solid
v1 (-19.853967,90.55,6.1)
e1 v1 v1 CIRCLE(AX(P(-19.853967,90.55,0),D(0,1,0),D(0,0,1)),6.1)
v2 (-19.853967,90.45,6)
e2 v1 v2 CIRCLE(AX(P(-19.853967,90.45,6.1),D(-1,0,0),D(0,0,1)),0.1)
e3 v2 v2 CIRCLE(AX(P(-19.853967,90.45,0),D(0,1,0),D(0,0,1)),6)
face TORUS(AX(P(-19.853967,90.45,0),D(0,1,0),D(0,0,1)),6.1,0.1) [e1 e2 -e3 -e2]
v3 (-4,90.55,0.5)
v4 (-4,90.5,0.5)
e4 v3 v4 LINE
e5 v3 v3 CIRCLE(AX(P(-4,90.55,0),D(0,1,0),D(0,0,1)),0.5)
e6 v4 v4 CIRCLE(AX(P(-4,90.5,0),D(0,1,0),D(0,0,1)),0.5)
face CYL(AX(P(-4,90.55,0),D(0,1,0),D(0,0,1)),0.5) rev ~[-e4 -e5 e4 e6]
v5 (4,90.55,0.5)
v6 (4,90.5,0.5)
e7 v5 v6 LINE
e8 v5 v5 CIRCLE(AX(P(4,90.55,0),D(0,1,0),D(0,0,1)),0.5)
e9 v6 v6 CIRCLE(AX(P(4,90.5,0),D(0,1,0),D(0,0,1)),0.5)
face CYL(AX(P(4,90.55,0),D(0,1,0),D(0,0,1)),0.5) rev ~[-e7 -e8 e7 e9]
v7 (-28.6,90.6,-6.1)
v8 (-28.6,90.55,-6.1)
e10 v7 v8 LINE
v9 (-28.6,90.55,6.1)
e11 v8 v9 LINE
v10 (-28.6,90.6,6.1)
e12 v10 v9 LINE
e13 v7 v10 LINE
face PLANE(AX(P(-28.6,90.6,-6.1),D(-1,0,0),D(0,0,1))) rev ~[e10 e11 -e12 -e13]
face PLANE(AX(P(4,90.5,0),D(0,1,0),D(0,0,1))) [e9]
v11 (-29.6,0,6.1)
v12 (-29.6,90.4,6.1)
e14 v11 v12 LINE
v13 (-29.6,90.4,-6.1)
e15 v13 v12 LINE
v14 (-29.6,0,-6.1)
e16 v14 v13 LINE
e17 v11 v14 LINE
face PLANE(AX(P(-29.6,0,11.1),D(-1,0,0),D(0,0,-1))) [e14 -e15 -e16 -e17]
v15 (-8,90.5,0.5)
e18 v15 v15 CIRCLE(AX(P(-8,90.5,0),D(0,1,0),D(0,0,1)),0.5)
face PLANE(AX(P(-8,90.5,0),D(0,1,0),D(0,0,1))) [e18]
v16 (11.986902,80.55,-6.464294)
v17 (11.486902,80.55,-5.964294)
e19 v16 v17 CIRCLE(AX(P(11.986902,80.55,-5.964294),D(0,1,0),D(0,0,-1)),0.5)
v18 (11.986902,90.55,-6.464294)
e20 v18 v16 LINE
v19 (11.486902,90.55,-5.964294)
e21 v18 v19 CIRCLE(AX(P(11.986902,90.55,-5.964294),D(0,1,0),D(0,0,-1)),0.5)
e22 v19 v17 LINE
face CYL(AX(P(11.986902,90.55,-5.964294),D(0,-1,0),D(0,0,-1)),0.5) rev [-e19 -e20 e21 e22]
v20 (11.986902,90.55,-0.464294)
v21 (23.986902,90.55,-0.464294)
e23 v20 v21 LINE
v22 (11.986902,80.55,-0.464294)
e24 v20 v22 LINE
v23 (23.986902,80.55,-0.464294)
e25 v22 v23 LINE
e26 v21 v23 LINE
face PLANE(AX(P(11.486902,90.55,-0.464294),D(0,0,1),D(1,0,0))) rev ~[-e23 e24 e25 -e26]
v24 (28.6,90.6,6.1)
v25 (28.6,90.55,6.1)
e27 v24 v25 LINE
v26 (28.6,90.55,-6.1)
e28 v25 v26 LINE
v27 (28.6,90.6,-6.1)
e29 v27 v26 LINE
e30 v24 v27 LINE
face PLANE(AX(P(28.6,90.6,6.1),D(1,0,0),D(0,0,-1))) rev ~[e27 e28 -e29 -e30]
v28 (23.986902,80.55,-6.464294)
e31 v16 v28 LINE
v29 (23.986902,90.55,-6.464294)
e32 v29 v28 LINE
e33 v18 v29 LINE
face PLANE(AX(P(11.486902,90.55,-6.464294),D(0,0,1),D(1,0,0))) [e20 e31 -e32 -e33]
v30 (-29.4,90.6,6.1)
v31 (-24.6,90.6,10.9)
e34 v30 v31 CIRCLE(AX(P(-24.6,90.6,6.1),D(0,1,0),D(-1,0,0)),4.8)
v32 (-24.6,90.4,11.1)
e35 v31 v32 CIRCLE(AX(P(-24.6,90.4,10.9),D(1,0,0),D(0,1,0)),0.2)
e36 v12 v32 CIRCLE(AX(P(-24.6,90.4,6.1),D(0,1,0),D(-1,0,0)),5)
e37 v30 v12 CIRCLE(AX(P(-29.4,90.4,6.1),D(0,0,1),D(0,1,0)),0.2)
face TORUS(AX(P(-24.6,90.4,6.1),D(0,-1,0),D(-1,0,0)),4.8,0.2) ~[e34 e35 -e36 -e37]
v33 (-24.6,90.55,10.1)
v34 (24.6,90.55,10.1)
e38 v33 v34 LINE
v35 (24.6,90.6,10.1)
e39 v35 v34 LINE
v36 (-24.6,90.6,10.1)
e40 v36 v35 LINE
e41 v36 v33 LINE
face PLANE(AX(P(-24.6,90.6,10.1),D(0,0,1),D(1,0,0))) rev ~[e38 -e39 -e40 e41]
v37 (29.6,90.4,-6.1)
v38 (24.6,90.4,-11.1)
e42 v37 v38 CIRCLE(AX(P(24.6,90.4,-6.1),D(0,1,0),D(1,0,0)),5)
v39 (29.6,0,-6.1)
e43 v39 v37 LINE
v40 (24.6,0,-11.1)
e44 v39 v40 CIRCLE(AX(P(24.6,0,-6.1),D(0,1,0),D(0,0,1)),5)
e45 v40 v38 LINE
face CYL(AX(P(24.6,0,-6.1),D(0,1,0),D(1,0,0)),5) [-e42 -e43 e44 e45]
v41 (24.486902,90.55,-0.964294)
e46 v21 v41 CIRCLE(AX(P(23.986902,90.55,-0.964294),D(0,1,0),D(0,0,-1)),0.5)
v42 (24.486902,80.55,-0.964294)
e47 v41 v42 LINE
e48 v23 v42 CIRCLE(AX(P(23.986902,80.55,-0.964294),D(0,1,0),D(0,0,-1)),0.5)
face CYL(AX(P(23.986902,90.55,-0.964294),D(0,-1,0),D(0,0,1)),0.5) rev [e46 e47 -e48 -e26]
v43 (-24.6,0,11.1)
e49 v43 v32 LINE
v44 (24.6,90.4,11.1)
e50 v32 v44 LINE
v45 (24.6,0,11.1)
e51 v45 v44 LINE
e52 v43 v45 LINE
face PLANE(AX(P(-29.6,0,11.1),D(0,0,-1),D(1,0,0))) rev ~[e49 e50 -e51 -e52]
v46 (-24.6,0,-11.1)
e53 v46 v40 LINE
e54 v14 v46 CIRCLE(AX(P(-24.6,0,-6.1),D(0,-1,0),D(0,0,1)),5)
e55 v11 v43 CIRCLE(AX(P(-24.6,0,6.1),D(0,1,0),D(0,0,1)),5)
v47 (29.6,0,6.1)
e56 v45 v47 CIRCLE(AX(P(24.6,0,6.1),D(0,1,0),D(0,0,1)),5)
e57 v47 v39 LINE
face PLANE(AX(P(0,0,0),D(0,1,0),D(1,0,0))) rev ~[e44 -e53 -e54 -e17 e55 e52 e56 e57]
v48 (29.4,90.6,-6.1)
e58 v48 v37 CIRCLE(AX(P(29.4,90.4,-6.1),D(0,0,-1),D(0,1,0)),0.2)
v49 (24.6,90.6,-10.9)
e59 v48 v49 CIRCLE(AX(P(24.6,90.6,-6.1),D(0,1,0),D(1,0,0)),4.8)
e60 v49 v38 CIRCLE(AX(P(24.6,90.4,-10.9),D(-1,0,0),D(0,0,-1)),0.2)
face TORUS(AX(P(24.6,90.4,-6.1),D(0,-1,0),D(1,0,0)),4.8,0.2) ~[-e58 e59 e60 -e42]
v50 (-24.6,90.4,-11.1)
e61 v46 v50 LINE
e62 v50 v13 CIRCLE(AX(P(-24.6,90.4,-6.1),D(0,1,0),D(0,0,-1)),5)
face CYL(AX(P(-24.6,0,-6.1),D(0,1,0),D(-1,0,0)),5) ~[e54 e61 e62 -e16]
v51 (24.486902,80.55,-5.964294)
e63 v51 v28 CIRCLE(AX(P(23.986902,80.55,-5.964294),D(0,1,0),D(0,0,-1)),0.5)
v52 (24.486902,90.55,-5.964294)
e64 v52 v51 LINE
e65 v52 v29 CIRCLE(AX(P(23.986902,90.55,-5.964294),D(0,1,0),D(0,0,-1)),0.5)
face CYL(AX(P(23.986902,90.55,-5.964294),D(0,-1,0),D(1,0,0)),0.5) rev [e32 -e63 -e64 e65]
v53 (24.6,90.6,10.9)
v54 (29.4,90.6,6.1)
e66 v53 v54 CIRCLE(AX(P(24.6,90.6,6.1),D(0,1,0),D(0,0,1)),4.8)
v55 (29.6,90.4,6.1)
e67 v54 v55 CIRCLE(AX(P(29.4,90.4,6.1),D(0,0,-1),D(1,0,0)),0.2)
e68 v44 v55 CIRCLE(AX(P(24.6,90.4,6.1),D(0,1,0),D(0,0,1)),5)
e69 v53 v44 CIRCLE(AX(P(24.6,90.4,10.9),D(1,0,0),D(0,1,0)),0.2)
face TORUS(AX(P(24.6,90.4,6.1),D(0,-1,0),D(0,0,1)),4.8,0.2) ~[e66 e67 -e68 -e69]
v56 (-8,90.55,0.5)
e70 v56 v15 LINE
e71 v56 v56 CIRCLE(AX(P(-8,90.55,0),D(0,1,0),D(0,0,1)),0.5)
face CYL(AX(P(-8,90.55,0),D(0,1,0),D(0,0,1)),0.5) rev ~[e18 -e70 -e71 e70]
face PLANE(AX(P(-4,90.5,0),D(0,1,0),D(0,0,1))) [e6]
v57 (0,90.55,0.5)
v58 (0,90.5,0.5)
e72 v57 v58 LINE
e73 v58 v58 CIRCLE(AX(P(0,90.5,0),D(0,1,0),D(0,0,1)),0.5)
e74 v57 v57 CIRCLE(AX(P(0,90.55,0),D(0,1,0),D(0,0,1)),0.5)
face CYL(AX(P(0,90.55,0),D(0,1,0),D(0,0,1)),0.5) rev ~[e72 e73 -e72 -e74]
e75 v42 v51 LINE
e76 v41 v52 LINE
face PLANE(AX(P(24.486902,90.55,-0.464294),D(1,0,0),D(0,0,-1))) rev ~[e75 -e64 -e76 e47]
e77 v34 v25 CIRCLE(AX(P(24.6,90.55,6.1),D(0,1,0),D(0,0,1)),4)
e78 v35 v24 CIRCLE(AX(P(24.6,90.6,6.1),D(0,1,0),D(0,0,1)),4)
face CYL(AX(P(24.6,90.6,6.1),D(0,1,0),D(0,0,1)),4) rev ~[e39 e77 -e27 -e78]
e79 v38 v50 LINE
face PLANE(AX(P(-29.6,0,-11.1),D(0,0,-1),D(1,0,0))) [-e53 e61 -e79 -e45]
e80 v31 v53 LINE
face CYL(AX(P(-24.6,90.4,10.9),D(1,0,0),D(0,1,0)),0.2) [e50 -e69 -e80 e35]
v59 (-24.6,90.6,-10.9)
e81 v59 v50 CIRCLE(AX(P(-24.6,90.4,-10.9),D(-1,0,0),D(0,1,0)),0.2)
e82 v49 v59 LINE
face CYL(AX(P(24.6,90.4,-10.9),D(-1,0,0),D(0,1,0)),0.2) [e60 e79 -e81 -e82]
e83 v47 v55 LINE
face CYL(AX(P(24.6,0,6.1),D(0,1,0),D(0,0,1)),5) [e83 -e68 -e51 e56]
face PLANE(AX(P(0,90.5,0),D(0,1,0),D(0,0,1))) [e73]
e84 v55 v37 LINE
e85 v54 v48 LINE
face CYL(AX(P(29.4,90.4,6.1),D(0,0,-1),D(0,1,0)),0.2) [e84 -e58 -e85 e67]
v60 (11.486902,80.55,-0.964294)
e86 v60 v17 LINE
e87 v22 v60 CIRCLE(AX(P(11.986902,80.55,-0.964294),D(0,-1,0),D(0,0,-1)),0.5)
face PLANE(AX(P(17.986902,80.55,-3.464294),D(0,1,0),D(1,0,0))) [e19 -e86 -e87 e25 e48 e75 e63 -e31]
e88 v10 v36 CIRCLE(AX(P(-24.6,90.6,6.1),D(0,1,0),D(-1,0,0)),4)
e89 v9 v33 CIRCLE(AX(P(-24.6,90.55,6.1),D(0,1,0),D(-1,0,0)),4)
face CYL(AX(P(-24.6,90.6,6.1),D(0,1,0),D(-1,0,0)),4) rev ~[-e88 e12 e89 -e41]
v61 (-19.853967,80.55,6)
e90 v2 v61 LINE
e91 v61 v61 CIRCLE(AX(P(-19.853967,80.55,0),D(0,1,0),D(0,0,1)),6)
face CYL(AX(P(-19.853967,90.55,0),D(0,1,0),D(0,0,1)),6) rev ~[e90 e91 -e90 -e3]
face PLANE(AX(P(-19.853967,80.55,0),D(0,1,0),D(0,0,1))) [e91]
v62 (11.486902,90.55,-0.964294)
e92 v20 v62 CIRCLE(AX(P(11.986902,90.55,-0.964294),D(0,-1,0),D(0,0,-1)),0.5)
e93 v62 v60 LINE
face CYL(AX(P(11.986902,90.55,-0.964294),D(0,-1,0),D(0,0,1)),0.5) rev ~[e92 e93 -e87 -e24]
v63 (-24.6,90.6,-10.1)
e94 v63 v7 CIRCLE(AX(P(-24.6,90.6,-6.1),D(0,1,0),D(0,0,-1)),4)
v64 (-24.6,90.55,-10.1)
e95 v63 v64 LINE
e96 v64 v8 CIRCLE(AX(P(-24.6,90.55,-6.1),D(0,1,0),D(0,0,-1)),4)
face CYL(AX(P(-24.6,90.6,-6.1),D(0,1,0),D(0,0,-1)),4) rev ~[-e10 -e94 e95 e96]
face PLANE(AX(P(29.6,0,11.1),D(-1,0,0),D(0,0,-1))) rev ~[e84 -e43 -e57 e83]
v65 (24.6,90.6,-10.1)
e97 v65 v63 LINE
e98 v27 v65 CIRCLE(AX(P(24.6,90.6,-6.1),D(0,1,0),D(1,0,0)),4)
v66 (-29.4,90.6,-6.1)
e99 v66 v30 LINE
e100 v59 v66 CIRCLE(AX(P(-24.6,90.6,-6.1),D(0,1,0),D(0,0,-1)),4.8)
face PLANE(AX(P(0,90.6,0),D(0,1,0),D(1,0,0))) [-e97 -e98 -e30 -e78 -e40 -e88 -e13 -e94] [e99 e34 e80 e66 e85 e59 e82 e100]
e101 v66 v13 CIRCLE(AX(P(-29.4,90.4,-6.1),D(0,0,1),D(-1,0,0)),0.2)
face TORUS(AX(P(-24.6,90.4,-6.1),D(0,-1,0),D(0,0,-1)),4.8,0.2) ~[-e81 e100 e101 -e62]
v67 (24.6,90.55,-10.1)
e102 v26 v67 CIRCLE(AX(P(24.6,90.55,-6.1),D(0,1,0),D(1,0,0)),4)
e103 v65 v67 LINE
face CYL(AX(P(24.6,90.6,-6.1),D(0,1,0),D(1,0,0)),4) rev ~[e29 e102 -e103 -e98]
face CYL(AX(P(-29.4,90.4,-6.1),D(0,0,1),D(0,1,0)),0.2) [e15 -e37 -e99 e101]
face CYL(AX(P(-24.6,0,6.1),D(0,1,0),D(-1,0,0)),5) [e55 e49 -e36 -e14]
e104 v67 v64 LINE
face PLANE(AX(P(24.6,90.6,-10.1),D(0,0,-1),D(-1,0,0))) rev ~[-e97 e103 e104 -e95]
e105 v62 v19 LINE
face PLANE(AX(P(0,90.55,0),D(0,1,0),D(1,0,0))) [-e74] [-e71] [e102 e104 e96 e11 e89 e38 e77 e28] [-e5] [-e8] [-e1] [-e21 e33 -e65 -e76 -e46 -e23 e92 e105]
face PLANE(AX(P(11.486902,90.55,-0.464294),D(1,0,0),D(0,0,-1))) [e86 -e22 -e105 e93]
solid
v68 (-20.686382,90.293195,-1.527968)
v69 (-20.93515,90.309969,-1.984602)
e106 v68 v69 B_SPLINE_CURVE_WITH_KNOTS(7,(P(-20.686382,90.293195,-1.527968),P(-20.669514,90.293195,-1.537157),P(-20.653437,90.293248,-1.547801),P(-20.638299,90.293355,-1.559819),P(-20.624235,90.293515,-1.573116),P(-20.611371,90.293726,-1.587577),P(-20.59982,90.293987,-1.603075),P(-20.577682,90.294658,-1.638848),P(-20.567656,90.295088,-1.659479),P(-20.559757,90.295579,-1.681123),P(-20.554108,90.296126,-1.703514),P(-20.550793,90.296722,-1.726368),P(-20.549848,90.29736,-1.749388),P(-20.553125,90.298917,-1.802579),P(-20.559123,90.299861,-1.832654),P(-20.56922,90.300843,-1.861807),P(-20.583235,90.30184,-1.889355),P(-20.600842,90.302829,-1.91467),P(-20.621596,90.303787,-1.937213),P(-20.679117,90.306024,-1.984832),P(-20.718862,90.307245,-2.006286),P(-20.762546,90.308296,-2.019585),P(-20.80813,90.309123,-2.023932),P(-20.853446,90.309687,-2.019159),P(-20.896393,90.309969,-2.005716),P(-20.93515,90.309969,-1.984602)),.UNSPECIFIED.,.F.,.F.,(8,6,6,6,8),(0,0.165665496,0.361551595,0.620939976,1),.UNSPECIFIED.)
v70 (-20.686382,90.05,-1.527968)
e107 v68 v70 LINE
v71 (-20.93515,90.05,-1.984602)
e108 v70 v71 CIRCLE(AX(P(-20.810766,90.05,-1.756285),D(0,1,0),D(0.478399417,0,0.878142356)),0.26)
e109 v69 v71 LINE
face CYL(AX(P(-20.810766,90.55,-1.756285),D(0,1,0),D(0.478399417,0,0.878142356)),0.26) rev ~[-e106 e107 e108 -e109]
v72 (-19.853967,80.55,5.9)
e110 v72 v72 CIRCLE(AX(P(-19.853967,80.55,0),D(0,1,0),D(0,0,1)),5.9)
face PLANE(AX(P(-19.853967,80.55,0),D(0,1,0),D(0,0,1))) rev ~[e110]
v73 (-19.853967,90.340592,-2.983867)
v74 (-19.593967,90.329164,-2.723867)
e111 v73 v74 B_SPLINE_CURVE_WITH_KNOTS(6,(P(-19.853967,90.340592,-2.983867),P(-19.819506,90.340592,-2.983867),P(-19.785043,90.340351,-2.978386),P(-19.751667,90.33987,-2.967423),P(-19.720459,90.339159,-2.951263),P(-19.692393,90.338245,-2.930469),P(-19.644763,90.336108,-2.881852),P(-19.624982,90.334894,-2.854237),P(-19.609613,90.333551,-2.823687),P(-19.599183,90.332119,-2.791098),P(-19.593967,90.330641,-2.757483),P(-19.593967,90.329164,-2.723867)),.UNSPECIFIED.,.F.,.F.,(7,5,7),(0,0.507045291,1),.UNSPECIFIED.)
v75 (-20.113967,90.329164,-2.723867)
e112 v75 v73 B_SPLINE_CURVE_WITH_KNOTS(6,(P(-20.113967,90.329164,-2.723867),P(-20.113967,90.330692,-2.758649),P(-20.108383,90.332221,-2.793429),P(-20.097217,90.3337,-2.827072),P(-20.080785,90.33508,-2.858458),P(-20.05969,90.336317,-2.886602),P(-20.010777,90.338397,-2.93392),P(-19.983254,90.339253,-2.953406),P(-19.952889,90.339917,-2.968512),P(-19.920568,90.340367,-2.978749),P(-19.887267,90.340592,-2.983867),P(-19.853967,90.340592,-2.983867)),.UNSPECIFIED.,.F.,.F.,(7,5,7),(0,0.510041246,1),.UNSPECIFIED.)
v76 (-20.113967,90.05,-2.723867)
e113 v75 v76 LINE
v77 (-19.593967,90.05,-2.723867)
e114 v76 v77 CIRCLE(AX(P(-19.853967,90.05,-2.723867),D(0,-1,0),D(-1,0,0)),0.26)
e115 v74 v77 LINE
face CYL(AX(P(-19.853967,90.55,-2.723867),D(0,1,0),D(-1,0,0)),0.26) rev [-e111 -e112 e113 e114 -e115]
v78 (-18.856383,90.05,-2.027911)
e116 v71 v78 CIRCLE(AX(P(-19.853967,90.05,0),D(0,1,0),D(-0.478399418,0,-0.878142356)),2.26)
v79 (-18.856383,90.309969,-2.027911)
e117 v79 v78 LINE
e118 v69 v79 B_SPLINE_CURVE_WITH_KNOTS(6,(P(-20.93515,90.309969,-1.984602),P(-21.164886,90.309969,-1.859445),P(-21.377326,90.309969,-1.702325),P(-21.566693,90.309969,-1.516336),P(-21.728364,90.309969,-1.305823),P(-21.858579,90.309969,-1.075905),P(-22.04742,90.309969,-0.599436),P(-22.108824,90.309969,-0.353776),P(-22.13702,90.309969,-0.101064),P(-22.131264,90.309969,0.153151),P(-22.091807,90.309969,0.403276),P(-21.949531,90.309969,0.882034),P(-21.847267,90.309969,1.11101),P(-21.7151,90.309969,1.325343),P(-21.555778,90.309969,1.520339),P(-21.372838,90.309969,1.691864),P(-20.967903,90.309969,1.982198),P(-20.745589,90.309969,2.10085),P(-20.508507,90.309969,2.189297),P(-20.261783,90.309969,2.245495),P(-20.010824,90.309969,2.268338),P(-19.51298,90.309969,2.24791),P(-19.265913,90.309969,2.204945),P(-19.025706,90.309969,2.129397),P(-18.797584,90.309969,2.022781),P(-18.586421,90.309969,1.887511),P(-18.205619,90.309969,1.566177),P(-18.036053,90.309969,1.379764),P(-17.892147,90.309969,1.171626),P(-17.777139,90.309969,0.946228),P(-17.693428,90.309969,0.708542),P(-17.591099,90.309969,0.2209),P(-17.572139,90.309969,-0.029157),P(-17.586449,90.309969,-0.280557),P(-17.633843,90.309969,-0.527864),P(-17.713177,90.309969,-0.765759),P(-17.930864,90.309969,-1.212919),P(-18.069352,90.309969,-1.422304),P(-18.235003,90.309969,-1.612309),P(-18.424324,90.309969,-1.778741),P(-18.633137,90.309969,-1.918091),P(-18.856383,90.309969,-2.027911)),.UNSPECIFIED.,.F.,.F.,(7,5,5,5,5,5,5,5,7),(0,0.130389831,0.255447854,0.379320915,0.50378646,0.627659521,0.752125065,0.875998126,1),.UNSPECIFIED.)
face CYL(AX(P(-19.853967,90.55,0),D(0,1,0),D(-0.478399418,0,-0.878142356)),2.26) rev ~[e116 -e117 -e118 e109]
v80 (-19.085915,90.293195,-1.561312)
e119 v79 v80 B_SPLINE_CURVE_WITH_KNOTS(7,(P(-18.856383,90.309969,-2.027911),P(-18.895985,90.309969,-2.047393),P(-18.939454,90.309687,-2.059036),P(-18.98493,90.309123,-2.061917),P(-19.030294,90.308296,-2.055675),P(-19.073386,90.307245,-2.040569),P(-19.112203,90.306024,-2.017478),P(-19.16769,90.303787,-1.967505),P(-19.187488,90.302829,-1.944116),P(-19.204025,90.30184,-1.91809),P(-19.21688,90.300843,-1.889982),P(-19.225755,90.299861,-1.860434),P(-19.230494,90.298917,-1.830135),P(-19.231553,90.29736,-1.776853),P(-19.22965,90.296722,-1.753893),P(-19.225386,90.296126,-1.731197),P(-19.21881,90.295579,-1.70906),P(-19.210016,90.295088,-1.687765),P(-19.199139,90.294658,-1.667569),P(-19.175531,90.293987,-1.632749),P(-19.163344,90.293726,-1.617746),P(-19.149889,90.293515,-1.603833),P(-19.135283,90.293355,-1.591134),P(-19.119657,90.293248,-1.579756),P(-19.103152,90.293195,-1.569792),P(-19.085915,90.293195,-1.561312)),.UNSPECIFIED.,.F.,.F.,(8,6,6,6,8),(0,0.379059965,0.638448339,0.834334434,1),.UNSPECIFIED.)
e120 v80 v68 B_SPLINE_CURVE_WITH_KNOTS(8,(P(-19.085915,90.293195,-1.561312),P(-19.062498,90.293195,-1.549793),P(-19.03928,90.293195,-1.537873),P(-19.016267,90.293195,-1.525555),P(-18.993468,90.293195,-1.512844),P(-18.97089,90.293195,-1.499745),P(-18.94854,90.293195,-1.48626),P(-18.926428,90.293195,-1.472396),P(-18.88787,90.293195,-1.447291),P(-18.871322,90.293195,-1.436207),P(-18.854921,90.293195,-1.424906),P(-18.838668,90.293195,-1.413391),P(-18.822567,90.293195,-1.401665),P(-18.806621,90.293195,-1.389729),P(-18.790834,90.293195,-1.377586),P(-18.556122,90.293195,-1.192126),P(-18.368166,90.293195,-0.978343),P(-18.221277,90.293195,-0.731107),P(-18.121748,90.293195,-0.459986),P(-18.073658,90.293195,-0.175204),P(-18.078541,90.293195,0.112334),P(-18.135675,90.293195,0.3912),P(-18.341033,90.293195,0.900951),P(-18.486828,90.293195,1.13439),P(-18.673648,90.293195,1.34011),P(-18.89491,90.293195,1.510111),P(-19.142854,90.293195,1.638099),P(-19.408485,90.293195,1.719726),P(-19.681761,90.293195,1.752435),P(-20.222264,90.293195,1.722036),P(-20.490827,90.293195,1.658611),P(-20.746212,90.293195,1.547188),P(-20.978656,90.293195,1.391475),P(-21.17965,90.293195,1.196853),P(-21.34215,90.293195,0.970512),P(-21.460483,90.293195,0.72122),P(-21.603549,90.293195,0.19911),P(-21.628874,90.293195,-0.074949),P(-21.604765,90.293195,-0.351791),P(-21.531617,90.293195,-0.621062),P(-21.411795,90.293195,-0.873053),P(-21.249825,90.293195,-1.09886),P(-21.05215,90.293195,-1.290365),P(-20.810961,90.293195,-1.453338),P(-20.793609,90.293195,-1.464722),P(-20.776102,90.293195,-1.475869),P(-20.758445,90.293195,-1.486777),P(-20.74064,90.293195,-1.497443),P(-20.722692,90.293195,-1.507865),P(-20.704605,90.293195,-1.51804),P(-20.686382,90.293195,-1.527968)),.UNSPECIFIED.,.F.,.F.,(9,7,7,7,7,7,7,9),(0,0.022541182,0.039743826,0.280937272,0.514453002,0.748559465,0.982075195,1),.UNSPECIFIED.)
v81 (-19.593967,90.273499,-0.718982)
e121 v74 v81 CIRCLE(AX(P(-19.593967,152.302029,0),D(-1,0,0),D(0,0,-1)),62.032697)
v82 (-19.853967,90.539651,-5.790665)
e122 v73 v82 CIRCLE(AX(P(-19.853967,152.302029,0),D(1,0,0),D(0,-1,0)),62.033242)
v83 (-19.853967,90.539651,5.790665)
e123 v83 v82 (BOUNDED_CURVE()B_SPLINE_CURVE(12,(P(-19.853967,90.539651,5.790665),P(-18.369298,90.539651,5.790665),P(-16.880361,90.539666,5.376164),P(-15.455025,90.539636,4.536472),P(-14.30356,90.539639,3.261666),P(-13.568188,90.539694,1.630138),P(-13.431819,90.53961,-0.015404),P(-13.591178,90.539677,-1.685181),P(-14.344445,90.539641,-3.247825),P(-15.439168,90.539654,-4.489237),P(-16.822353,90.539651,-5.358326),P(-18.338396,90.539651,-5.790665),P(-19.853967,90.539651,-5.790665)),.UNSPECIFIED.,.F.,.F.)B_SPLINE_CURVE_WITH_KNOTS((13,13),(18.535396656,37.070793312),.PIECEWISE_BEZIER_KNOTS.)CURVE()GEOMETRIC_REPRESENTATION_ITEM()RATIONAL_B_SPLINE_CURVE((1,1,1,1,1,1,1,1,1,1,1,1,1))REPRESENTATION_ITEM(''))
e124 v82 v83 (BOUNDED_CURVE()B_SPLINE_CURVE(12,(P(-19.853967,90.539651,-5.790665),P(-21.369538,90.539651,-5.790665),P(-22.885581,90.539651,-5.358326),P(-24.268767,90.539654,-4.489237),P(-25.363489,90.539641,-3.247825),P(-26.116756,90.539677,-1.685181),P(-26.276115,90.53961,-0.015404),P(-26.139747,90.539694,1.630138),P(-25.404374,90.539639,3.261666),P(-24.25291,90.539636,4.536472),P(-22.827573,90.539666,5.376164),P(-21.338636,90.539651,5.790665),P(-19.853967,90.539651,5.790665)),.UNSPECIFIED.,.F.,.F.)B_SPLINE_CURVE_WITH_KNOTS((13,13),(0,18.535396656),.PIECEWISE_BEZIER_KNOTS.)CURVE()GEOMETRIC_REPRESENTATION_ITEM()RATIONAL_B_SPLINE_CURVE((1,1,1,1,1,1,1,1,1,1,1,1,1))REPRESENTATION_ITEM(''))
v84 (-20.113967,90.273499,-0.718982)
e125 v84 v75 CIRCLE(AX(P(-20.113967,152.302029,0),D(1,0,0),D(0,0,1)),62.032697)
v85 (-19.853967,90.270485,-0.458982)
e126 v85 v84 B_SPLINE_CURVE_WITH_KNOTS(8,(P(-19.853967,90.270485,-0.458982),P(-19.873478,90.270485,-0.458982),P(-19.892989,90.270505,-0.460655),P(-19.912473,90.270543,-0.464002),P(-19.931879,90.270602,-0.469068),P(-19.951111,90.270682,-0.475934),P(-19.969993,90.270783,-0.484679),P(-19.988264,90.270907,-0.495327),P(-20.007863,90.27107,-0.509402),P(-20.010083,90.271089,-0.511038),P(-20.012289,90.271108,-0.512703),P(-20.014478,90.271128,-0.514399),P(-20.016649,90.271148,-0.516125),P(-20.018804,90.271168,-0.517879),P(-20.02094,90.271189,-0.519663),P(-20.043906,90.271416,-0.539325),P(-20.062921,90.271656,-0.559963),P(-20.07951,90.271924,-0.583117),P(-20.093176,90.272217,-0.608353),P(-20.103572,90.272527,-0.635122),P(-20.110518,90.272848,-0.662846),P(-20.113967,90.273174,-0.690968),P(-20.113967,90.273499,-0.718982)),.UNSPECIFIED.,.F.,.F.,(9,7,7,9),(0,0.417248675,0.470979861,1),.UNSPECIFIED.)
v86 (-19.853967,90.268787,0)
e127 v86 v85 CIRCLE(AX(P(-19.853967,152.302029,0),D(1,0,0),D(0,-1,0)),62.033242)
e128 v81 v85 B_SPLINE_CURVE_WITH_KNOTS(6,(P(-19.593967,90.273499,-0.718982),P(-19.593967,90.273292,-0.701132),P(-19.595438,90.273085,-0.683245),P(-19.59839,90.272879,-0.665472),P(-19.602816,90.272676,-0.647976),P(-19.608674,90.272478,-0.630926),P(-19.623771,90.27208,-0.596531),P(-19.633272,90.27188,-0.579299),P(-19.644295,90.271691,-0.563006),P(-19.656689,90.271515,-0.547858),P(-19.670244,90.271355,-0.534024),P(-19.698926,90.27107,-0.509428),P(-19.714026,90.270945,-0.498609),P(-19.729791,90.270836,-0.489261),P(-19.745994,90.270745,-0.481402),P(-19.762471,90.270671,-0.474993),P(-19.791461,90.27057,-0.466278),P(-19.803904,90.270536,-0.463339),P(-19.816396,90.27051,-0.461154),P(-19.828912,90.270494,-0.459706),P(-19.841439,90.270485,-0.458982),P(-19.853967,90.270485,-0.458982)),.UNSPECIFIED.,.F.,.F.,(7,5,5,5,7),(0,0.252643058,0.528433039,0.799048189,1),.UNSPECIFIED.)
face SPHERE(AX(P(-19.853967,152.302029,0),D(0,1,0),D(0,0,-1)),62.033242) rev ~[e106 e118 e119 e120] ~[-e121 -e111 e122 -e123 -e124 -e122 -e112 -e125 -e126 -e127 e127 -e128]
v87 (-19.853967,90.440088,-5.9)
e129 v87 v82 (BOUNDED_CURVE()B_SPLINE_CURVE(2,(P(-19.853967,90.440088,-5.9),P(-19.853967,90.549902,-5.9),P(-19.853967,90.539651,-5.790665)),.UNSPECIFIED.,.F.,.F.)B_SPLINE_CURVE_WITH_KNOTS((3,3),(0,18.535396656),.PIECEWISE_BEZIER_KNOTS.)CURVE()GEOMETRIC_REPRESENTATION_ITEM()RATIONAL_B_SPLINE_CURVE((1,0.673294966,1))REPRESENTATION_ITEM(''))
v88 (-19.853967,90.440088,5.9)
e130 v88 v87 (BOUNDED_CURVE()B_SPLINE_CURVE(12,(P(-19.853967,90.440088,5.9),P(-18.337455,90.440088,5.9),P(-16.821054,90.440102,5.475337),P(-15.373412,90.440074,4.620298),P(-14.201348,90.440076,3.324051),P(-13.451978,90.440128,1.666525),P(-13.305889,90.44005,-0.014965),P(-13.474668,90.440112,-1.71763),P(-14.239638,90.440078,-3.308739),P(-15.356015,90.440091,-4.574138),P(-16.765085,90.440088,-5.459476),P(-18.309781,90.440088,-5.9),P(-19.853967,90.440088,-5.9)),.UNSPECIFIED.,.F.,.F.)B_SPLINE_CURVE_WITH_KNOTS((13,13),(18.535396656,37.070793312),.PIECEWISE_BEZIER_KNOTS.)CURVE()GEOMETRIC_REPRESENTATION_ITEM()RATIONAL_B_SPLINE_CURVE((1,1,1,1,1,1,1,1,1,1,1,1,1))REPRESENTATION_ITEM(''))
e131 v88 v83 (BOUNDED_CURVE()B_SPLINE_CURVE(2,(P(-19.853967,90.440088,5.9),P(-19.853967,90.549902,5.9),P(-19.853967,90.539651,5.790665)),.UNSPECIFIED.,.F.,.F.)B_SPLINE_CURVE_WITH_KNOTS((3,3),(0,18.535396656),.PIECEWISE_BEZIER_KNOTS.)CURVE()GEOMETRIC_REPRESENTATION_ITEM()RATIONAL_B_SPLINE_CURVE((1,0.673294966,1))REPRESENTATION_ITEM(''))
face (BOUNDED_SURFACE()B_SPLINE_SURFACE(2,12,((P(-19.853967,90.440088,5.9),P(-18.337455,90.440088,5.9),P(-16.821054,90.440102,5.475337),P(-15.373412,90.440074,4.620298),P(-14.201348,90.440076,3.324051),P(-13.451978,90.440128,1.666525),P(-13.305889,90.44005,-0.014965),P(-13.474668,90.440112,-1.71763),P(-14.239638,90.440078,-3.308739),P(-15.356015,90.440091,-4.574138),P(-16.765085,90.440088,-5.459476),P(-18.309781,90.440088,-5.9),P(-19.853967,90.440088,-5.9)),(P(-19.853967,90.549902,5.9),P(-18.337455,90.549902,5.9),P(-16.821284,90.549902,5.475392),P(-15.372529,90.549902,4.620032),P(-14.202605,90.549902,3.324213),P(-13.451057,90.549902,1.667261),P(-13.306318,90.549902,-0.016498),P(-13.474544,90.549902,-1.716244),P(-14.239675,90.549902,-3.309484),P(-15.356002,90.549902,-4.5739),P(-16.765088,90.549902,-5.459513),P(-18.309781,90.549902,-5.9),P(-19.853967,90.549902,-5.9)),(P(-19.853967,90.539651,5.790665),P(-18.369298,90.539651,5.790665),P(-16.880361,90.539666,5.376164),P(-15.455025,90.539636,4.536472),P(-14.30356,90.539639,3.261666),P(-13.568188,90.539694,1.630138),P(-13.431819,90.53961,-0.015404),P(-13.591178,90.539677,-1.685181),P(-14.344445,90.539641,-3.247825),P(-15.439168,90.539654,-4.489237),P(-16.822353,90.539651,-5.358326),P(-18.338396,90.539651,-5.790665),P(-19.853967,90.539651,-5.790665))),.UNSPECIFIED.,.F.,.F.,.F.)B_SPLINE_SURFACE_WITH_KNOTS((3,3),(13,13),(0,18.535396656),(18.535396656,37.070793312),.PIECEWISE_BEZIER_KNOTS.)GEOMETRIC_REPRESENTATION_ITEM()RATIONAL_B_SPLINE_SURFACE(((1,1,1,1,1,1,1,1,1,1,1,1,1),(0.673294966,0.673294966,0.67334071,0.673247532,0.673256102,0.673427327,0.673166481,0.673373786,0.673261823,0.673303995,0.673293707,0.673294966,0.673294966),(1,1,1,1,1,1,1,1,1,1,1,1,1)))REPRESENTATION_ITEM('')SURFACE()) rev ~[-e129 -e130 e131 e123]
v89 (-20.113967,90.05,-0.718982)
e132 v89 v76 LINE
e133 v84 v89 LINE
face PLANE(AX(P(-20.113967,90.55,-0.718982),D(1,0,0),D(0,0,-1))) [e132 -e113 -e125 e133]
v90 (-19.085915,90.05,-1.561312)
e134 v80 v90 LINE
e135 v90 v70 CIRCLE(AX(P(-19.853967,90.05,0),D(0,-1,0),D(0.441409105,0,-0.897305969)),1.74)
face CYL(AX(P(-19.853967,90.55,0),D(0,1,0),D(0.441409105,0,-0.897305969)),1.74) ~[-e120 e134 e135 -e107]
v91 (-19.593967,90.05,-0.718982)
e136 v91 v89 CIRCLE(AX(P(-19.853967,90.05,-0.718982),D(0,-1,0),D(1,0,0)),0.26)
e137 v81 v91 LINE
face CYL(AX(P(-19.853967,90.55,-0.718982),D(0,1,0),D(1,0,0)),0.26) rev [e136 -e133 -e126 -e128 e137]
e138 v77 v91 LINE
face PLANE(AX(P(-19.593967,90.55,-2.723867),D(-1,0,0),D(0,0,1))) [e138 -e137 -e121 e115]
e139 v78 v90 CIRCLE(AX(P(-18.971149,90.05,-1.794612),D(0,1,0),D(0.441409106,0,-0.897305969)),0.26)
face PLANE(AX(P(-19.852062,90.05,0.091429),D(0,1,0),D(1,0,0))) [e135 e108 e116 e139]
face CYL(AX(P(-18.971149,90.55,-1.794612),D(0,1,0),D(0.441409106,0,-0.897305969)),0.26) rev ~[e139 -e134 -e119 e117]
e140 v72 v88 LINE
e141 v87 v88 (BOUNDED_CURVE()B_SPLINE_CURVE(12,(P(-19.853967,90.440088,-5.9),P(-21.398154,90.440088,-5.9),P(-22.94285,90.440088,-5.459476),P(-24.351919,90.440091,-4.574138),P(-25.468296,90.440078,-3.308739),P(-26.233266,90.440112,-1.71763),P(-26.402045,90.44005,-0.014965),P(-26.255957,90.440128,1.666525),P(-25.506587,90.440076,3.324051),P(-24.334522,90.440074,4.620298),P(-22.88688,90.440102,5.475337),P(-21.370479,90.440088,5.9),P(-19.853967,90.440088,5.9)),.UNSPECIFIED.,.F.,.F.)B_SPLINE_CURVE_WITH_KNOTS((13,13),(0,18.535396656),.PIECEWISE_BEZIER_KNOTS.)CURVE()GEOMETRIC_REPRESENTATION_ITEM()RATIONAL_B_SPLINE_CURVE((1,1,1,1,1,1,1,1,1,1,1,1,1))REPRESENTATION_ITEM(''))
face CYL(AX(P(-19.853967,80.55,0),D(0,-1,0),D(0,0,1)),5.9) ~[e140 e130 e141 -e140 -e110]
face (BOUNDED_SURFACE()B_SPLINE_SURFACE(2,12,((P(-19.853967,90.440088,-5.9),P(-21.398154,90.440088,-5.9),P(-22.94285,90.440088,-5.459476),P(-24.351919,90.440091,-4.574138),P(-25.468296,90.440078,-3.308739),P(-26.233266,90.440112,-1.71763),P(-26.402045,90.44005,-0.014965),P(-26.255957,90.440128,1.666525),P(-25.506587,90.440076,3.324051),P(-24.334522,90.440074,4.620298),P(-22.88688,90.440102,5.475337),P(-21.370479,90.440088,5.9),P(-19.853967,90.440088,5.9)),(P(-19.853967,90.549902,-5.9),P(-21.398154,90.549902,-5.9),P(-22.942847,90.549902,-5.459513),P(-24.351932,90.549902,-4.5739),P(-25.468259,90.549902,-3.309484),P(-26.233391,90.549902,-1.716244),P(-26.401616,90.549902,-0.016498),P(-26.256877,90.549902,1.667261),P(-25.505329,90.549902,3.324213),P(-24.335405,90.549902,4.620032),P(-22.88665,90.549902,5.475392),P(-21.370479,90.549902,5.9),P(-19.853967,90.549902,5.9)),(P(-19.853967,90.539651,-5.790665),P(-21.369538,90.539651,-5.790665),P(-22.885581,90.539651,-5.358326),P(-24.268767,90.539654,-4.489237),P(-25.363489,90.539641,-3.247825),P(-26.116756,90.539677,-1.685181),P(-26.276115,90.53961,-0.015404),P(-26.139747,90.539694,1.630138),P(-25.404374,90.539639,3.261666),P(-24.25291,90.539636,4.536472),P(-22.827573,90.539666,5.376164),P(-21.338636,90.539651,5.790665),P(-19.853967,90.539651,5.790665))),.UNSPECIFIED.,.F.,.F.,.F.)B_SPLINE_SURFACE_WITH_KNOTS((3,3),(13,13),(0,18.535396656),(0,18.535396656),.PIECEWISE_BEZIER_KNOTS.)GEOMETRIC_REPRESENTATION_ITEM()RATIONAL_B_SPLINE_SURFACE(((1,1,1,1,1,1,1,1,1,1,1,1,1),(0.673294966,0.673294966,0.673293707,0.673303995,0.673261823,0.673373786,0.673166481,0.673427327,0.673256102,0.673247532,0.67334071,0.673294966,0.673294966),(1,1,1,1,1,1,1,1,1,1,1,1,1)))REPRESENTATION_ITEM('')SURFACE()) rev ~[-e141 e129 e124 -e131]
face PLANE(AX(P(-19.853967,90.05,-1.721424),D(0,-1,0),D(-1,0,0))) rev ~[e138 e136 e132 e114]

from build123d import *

# Parameters (mm, degrees)
SKETCH1_W      = 59.2
SKETCH1_H      = 22.2
EXTRUDE1_DEPTH = 90.6
FILLET1_R      = 5
EXTRUDE2_DEPTH = 0.05
SKETCH3_R      = 6
EXTRUDE3_DEPTH = 10
SKETCH4_R      = 5.9
EXTRUDE4_DEPTH = 10
FILLET2_R      = 0.1
FILLET3_R      = 0.1
SKETCH6_R      = 0.5
EXTRUDE5_DEPTH = 0.05
EXTRUDE8_DEPTH = 0.5
FILLET4_R      = 0.2
SKETCH8_W      = 13
SKETCH8_H      = 6
EXTRUDE9_DEPTH = 10
FILLET5_R      = 0.5


with BuildPart() as part:
    # Sketch1 → Extrude1 (new body)
    with BuildSketch(Plane(origin=(0, 0, 0), x_dir=(1, 0, 0), z_dir=(0, 1, 0))):
        Rectangle(SKETCH1_W, SKETCH1_H)
    extrude(amount=EXTRUDE1_DEPTH)

    # Fillet1
    fillet1_edges = [part.edges().sort_by_distance(p)[0] for p in [
        (29.6, 45.3, 11.1),
        (-29.6, 45.3, 11.1),
        (-29.6, 45.3, -11.1),
        (29.6, 45.3, -11.1),
    ]]
    fillet(fillet1_edges, radius=FILLET1_R)

    # Sketch2 → Extrude2 (cut)
    with BuildSketch(Plane(origin=(0, 90.6, 0), x_dir=(1, 0, 0), z_dir=(0, 1, 0))):
        with BuildLine():
            Line((-28.6, 6.1), (-28.6, -6.1))
            ThreePointArc((-28.6, -6.1), (-27.428427125, -8.928427125), (-24.6, -10.1))
            Line((-24.6, -10.1), (24.6, -10.1))
            ThreePointArc((24.6, -10.1), (27.428427125, -8.928427125), (28.6, -6.1))
            Line((28.6, -6.1), (28.6, 6.1))
            ThreePointArc((28.6, 6.1), (27.428427125, 8.928427125), (24.6, 10.1))
            Line((24.6, 10.1), (-24.6, 10.1))
            ThreePointArc((-24.6, 10.1), (-27.428427125, 8.928427125), (-28.6, 6.1))
        make_face()
    extrude(amount=-EXTRUDE2_DEPTH, mode=Mode.SUBTRACT)

    # Sketch3 → Extrude3 (cut)
    with BuildSketch(Plane(origin=(0, 90.55, 0), x_dir=(1, 0, 0), z_dir=(0, 1, 0))):
        with Locations(Location((-19.853967115, 0, 0), (0, 0, 270))):
            Circle(SKETCH3_R)
    extrude(amount=-EXTRUDE3_DEPTH, mode=Mode.SUBTRACT)

    # Fillet3
    fillet3_edges = [part.edges().sort_by_distance(p)[0] for p in [
        (-19.853967115, 90.55, -6),
    ]]
    fillet(fillet3_edges, radius=FILLET3_R)

    # Sketch6 → Extrude5 (cut)
    with BuildSketch(Plane(origin=(0, 90.55, 0), x_dir=(1, 0, 0), z_dir=(0, 1, 0))):
        with Locations(Location((-8, 0, 0), (0, 0, 270))):
            Circle(SKETCH6_R)
        with Locations(Location((-4, 0, 0), (0, 0, 270))):
            Circle(SKETCH6_R)
        with Locations(Location((0, 0, 0), (0, 0, 270))):
            Circle(SKETCH6_R)
        with Locations(Location((4, 0, 0), (0, 0, 270))):
            Circle(SKETCH6_R)
    extrude(amount=-EXTRUDE5_DEPTH, mode=Mode.SUBTRACT)

    # Fillet4
    fillet4_edges = [part.edges().sort_by_distance(p)[0] for p in [
        (0, 90.6, 11.1),
        (-29.6, 90.6, 0),
        (29.6, 90.6, 0),
        (0, 90.6, -11.1),
        (28.135533906, 90.6, 9.635533906),
        (28.135533906, 90.6, -9.635533906),
        (-28.135533906, 90.6, -9.635533906),
        (-28.135533906, 90.6, 9.635533906),
    ]]
    fillet(fillet4_edges, radius=FILLET4_R)

    # Sketch8 → Extrude9 (cut)
    with BuildSketch(Plane(origin=(0, 90.55, 0), x_dir=(1, 0, 0), z_dir=(0, 1, 0))):
        with Locations((17.986901839, 3.464293514)):
            Rectangle(SKETCH8_W, SKETCH8_H)
    extrude(amount=-EXTRUDE9_DEPTH, mode=Mode.SUBTRACT)

    # Fillet5
    fillet5_edges = [part.edges().sort_by_distance(p)[0] for p in [
        (11.486901839, 85.55, -0.464293514),
        (11.486901839, 85.55, -6.464293514),
        (24.486901839, 85.55, -6.464293514),
        (24.486901839, 85.55, -0.464293514),
    ]]
    fillet(fillet5_edges, radius=FILLET5_R)


with BuildPart() as body_2:
    # Sketch4 → Extrude4 (new body)
    with BuildSketch(Plane(origin=(0, 80.55, 0), x_dir=(1, 0, 0), z_dir=(0, 1, 0))):
        with Locations(Location((-19.853967115, 0, 0), (0, 0, 270))):
            Circle(SKETCH4_R)
    extrude(amount=EXTRUDE4_DEPTH)

    # Sketch5 → Cut-Revolve1 (revolve, cut)
    with BuildSketch(Plane.XY, mode=Mode.PRIVATE) as cut_revolve1_sk:
        with BuildLine():
            Line((-25.753967115, 90.55), (-19.853967115, 90.55))
            Line((-19.853967115, 90.55), (-19.853967115, 90.268787223))
            ThreePointArc((-19.853967115, 90.268787223), (-22.807316088, 90.3391303), (-25.753967115, 90.55))
        make_face()
    revolve(cut_revolve1_sk.sketch.rotate(Axis((-19.853967115, 80.55, 0), (0, 1, 0)), 270), axis=Axis((-19.853967115, 80.55, 0), (0, 1, 0)), mode=Mode.SUBTRACT)

    # Fillet2
    fillet2_edges = [body_2.edges().sort_by_distance(p)[0] for p in [
        (-25.753967115, 90.55, 0),
    ]]
    fillet(fillet2_edges, radius=FILLET2_R)

    # Sketch7 → Extrude8 (cut)
    with BuildSketch(Plane(origin=(0, 90.55, 0), x_dir=(1, 0, 0), z_dir=(0, 1, 0))):
        with BuildLine():
            Line((-20.113967115, 0.718981633), (-20.113967115, 2.723866666))
            ThreePointArc((-20.113967115, 2.723866666), (-19.853967115, 2.983866666), (-19.593967115, 2.723866666))
            Line((-19.593967115, 2.723866666), (-19.593967115, 0.718981633))
            ThreePointArc((-19.593967115, 0.718981633), (-19.853967115, 0.458981633), (-20.113967115, 0.718981633))
        make_face()
        with BuildLine():
            ThreePointArc((-20.935149799, 1.984601724), (-19.806891698, -2.25950966), (-18.856382539, 2.02791149))
            ThreePointArc((-18.856382539, 2.02791149), (-19.204448458, 1.909378306), (-19.085915273, 1.561312386))
            ThreePointArc((-19.085915273, 1.561312386), (-19.81772321, -1.739622482), (-20.686382102, 1.527967699))
            ThreePointArc((-20.686382102, 1.527967699), (-20.582448938, 1.88066856), (-20.935149799, 1.984601724))
        make_face()
    extrude(amount=-EXTRUDE8_DEPTH, mode=Mode.SUBTRACT)


solid = Compound([part.part, body_2.part])
